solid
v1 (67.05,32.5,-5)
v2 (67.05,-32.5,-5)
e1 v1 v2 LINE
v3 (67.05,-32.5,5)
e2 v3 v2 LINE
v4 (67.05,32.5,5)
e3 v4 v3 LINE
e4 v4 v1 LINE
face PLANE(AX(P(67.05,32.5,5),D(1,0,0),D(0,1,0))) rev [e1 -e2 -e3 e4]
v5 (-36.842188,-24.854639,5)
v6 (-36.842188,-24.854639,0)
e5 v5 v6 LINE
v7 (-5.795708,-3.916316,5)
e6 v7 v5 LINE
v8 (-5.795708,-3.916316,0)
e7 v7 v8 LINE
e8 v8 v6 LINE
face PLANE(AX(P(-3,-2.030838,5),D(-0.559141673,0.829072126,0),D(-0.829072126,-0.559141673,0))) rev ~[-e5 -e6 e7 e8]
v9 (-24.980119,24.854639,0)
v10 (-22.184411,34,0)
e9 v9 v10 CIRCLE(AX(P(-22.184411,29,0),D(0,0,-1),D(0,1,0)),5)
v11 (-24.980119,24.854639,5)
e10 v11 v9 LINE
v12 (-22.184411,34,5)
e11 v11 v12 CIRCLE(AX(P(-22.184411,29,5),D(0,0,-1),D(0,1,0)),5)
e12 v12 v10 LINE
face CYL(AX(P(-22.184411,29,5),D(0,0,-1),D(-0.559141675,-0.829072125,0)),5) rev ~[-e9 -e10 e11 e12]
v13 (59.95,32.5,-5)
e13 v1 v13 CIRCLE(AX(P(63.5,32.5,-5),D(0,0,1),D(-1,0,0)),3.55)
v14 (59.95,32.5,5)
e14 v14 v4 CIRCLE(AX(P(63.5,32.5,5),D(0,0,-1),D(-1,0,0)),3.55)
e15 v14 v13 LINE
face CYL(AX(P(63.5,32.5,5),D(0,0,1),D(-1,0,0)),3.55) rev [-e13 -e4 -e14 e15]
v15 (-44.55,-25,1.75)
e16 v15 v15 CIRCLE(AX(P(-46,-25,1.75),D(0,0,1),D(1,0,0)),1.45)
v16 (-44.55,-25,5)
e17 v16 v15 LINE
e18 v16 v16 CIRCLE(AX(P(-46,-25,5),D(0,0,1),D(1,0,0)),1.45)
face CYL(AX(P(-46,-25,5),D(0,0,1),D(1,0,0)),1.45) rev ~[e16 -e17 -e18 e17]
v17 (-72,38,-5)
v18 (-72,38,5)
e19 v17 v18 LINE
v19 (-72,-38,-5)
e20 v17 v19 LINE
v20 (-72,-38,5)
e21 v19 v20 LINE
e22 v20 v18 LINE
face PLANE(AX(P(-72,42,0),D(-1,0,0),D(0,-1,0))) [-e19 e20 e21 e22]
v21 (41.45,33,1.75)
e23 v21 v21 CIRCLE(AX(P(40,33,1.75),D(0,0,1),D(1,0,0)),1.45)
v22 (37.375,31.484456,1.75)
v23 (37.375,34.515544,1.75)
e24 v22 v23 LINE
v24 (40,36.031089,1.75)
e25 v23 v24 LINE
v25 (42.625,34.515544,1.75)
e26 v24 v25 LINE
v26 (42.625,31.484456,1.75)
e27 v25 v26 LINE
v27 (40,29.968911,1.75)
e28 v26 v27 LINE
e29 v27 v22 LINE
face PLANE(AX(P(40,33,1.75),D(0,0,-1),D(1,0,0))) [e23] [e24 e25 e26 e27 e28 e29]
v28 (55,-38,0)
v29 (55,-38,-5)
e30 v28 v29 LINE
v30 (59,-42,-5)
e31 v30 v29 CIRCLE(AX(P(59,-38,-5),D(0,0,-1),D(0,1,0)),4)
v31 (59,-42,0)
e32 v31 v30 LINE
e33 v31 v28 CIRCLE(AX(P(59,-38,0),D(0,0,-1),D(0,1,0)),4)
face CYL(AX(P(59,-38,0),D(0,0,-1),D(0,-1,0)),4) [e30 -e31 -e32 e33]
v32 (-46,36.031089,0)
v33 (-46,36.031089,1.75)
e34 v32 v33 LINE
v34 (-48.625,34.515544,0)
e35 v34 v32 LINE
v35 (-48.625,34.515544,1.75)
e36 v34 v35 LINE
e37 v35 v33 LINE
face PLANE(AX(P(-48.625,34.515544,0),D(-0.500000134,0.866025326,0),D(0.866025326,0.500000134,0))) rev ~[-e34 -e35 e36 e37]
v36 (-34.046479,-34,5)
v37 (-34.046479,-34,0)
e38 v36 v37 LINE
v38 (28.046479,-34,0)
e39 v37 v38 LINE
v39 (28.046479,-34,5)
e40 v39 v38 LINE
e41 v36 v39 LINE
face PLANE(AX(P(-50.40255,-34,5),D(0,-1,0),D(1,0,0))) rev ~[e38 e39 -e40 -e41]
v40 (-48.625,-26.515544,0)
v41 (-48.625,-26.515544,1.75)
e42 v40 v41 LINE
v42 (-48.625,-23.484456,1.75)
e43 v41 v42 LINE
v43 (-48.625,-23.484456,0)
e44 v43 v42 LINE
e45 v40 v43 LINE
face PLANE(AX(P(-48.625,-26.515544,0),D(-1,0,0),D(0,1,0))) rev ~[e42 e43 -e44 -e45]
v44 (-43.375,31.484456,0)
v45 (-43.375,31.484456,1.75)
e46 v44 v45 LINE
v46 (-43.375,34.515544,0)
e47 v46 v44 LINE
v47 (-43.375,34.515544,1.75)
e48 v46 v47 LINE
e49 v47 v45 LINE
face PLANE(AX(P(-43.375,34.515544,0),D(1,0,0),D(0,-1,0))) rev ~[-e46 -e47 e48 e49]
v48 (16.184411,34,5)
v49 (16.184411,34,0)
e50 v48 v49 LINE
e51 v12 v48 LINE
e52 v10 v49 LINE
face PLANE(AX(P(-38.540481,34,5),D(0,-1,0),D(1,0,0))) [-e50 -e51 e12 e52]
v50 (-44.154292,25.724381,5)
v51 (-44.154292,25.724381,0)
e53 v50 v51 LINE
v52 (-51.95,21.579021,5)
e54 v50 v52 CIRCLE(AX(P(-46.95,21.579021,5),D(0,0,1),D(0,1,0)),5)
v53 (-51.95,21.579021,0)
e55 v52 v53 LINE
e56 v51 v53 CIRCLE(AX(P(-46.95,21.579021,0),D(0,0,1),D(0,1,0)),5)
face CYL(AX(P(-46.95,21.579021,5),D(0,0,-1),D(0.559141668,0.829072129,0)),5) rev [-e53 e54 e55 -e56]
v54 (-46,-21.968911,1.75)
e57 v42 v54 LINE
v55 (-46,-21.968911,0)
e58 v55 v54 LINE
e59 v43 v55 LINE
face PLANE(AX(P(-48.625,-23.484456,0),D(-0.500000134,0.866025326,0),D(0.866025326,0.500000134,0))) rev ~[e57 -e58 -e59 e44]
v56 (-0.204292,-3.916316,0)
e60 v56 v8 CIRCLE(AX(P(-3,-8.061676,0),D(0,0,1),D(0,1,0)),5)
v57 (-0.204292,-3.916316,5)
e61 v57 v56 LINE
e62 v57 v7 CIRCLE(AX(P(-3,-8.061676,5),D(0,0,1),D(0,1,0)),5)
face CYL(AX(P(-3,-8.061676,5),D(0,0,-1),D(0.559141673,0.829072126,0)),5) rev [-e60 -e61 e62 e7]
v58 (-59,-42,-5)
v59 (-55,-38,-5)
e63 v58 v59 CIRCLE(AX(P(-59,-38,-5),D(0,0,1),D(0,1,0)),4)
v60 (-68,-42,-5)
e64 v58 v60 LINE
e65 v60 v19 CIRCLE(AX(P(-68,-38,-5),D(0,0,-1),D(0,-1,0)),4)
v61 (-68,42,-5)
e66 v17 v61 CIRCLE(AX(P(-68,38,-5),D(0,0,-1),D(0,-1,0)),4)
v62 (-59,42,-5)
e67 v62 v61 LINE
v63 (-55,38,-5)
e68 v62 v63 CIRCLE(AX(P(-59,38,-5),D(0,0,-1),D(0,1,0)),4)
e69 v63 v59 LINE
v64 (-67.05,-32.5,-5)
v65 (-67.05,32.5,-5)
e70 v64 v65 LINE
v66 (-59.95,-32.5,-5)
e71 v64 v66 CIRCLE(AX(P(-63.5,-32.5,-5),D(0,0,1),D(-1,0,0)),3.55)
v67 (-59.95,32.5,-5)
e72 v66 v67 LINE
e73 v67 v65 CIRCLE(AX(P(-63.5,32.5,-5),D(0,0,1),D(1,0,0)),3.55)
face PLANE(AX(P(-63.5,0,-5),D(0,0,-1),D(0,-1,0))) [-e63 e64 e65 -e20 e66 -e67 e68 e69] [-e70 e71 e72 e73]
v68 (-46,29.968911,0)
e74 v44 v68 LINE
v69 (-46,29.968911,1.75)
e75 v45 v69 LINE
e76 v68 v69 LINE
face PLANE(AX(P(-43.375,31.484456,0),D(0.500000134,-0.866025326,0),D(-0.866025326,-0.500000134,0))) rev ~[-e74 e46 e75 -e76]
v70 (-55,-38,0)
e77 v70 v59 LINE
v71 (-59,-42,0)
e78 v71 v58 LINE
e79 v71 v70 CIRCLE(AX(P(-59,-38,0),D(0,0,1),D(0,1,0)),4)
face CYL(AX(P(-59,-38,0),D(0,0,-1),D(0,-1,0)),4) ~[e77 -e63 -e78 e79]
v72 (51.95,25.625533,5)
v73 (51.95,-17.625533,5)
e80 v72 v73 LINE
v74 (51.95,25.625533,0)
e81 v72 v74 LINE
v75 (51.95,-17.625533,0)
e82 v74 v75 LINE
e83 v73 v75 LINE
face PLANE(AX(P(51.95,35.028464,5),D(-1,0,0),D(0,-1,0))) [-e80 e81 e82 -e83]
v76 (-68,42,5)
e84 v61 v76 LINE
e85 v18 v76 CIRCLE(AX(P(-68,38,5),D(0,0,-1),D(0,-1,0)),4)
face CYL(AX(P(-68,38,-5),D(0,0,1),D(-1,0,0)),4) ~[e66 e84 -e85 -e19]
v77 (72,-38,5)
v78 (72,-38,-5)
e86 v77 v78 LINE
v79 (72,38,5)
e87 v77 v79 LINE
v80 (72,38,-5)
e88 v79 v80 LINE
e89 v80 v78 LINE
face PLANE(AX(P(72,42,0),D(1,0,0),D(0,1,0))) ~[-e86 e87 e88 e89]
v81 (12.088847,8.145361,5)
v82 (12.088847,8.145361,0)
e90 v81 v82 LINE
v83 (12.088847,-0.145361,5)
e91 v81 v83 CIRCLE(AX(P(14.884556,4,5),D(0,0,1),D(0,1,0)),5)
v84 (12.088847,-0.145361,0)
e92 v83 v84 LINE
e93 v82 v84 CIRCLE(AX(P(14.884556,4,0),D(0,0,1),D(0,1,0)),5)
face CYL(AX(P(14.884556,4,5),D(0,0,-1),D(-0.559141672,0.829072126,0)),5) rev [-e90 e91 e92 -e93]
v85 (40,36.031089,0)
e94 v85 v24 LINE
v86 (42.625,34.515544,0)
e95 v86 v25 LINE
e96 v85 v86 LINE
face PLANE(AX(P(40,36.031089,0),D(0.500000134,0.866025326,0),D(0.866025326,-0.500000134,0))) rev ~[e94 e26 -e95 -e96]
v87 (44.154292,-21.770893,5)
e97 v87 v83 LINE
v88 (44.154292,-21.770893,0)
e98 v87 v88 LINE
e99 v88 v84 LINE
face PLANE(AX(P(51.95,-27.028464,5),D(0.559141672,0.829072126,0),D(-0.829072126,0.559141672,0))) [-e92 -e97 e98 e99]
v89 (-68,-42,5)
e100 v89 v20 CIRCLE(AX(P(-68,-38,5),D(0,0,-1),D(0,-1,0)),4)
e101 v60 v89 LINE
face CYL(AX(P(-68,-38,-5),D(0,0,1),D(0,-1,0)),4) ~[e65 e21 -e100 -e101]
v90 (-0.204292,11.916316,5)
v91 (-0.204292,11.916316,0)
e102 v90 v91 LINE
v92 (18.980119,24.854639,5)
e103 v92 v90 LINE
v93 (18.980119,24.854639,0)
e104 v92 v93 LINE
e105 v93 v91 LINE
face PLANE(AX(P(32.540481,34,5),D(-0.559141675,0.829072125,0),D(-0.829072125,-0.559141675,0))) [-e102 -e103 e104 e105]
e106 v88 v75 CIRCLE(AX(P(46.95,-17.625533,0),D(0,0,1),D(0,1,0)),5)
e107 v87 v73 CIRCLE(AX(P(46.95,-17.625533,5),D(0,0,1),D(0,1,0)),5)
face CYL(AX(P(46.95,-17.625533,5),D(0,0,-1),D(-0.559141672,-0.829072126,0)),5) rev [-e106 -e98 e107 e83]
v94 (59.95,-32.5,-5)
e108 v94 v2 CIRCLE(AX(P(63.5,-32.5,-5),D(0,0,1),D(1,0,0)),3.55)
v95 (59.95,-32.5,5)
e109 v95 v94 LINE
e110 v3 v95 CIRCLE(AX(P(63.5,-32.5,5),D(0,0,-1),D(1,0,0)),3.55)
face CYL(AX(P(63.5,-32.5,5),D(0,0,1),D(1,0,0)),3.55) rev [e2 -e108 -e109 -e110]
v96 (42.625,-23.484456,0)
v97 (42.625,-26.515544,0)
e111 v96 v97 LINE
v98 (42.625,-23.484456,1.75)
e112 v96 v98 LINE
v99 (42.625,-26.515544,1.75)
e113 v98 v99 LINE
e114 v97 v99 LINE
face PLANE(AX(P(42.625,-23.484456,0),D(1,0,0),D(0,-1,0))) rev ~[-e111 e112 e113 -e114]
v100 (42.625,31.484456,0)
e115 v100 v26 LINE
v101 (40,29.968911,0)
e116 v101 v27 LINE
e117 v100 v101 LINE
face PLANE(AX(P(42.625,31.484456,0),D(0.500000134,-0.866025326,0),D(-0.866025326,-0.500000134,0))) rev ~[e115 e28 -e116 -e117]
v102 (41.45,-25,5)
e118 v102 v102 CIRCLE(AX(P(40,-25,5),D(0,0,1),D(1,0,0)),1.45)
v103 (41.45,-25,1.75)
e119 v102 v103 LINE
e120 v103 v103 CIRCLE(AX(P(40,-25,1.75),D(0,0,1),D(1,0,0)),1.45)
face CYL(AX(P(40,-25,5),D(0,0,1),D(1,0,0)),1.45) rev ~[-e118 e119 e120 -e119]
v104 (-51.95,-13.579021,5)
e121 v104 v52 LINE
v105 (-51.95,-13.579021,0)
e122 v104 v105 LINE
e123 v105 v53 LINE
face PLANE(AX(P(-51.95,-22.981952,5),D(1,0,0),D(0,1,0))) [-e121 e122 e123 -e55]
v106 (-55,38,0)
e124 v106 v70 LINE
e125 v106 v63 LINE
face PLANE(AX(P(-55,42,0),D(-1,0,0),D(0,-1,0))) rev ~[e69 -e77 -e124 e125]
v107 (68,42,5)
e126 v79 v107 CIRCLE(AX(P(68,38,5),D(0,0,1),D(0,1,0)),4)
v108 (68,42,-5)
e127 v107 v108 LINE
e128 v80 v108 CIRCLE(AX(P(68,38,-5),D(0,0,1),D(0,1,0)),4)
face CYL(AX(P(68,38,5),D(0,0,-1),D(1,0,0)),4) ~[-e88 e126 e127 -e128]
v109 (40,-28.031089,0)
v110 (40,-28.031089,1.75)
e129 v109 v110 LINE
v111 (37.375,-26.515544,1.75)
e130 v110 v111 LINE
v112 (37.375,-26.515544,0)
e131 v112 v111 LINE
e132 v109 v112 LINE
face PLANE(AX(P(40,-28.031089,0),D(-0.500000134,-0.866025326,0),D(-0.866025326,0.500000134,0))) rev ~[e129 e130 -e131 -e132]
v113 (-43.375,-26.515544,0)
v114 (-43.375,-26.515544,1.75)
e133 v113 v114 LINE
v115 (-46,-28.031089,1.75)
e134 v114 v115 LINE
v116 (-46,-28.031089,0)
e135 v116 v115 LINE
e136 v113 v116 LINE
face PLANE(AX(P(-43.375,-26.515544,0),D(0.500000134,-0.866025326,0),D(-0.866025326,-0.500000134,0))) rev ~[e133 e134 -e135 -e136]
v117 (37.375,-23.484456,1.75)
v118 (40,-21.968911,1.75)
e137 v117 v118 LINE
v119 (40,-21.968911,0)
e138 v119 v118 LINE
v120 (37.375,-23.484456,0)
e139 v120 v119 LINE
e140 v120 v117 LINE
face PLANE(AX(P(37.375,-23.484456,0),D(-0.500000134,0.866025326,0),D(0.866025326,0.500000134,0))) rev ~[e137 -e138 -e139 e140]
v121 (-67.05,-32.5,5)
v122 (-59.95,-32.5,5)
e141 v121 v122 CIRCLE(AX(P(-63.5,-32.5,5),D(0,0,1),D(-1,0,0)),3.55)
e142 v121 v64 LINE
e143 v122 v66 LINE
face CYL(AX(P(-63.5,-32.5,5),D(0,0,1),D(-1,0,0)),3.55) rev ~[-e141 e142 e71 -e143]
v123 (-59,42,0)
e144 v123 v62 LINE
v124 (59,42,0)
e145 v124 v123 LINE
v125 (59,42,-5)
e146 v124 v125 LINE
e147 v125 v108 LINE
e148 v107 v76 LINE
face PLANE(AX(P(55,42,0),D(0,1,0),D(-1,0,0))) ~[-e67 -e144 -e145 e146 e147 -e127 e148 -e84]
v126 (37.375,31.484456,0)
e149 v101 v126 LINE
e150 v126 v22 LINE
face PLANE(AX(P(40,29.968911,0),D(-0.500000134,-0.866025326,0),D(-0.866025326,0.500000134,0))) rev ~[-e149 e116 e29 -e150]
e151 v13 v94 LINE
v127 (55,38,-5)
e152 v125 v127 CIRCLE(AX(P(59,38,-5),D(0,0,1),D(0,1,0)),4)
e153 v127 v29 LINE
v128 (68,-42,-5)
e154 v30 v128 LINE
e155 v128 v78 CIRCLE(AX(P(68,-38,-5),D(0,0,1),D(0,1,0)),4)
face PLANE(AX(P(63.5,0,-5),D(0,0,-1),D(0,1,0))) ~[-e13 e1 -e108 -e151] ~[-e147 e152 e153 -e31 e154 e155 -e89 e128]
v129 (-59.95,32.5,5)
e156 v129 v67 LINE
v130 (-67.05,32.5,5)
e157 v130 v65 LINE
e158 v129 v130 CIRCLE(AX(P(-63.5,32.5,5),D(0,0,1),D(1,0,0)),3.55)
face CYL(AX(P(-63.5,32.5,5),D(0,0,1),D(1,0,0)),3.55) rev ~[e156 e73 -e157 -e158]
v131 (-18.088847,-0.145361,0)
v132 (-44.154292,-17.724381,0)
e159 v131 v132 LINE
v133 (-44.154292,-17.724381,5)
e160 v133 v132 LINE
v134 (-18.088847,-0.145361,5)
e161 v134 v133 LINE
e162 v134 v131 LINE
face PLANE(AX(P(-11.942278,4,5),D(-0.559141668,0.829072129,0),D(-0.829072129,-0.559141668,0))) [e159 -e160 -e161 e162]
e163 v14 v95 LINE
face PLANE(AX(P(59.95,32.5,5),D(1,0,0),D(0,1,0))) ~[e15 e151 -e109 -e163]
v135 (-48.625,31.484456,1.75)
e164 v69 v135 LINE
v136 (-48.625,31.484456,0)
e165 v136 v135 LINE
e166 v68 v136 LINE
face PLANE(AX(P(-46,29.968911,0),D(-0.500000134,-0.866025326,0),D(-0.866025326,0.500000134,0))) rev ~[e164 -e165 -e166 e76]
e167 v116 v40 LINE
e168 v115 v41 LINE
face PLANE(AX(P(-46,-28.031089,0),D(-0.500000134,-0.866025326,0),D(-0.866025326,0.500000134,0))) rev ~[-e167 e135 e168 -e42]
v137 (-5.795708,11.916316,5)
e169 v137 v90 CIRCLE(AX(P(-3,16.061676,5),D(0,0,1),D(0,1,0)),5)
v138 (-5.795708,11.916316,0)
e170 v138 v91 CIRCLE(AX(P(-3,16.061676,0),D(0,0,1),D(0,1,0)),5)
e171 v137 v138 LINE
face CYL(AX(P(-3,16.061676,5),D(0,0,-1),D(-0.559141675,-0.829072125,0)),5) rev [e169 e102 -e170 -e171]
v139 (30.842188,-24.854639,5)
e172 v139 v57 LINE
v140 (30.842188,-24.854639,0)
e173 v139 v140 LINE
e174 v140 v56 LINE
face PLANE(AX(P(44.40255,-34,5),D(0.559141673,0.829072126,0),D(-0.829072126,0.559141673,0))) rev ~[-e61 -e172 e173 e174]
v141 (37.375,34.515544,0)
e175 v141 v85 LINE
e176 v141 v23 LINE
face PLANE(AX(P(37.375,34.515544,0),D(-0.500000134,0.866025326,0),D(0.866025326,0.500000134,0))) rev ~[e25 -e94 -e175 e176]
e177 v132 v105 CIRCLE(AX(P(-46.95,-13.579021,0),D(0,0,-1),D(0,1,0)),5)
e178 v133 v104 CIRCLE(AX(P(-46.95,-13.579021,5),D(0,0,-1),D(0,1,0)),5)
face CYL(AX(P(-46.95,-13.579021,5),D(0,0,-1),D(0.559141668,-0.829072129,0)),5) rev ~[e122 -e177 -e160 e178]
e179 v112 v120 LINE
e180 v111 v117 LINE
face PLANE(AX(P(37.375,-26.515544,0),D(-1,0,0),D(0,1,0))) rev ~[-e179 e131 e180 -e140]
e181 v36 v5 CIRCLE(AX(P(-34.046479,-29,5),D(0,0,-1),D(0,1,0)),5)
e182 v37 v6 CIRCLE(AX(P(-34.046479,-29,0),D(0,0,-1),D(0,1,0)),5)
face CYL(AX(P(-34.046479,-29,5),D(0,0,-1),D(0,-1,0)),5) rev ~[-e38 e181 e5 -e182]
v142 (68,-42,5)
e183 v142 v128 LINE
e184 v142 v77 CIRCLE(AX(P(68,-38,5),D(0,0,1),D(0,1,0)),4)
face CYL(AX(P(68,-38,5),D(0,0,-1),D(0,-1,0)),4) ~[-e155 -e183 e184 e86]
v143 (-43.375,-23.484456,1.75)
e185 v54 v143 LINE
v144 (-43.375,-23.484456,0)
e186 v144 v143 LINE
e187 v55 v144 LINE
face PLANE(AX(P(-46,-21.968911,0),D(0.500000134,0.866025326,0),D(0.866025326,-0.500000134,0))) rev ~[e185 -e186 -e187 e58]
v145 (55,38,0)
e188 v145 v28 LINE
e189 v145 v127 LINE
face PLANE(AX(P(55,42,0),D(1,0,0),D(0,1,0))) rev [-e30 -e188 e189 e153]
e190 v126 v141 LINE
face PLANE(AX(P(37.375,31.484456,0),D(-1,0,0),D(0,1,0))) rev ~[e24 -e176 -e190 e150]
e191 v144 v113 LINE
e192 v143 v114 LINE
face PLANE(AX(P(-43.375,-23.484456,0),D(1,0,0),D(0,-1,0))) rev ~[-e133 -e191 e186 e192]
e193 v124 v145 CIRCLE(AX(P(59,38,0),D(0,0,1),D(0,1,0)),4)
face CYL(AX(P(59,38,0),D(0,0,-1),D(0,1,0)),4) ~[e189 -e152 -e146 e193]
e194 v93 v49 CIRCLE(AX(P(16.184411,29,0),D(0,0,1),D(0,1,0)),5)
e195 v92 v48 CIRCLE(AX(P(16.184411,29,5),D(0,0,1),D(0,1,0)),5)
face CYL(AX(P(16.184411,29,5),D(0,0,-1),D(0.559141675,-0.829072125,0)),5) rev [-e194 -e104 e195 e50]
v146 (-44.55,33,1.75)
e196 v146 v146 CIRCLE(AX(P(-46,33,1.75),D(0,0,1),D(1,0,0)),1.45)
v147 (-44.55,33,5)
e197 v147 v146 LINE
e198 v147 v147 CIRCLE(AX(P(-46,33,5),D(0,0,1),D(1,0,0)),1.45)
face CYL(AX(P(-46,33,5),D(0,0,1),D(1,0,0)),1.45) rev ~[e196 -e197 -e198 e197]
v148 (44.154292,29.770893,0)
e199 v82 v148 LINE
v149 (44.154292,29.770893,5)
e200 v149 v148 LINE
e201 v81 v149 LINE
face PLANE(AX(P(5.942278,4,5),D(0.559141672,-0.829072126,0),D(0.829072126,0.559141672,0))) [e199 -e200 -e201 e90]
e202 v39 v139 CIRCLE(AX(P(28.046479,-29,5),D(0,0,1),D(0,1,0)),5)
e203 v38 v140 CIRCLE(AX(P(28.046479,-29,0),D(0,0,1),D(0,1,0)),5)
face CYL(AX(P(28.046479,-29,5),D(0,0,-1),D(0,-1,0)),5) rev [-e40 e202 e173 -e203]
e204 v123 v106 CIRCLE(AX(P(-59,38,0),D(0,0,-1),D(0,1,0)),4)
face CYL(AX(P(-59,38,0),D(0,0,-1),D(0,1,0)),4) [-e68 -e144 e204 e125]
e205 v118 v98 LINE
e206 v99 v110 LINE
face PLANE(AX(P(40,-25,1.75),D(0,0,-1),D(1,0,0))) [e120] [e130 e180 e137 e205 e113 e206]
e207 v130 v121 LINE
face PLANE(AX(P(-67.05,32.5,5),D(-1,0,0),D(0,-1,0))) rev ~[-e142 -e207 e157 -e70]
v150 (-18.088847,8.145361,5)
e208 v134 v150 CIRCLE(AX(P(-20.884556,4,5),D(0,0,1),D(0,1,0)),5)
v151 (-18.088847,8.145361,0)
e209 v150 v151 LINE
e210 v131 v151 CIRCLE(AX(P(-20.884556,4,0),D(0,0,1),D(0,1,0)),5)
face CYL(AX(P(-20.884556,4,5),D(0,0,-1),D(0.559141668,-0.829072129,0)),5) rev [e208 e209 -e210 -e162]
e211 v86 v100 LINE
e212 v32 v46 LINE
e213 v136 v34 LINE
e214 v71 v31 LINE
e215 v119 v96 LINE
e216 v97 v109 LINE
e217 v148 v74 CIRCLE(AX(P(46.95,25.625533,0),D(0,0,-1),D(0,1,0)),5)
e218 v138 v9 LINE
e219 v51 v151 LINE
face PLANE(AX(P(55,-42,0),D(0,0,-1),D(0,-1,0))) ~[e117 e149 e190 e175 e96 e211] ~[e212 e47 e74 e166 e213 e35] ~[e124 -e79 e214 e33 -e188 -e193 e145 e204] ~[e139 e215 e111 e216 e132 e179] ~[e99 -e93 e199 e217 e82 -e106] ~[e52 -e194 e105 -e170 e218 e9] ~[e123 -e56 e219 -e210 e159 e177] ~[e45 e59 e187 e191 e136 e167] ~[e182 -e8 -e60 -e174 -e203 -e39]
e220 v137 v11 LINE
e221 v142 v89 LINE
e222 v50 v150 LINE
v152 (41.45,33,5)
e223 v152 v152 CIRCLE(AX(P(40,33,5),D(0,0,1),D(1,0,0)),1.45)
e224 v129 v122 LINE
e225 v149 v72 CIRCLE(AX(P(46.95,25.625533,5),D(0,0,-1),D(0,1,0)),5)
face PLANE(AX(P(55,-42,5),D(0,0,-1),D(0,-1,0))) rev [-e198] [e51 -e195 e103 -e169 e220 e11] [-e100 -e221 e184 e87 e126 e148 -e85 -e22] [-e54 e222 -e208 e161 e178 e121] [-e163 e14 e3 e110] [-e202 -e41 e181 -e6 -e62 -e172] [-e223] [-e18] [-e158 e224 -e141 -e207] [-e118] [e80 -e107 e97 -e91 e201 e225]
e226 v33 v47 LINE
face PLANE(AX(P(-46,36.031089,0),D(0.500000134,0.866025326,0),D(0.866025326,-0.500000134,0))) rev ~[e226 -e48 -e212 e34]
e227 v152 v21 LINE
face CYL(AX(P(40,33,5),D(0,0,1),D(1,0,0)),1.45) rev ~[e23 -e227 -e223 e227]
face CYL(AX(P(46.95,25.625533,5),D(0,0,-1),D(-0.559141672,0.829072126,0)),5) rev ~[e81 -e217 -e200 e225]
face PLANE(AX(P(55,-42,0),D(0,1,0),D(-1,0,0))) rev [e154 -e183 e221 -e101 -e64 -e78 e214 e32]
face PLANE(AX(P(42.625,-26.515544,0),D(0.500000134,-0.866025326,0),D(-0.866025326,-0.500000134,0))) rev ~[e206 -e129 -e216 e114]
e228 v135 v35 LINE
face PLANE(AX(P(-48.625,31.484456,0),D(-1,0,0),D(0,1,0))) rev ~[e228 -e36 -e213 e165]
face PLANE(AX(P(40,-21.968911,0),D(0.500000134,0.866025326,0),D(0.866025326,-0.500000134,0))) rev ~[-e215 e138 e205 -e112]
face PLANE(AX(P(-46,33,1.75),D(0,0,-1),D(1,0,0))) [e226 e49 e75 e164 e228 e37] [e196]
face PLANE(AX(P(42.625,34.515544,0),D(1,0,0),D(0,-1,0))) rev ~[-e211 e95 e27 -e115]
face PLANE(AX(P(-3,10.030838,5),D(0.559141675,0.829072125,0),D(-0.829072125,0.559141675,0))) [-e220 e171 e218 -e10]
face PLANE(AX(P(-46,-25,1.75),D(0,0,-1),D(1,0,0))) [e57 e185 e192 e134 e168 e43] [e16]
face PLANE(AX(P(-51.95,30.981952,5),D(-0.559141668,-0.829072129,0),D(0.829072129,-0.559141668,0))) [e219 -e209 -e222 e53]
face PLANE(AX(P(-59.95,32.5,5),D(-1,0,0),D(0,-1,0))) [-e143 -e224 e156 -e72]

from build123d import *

# Parameters (mm, degrees)
SKETCH_W                     = 110
SKETCH_H                     = 84
PAD_DEPTH                    = 5
SKETCH001_R                  = 1.45
HOLE_DEPTH                   = 281.991975
POCKET_DEPTH                 = 1.75
SKETCH001_LINEARPATTERN_2_R  = 1.45
HOLE_LINEARPATTERN_2_DEPTH   = 281.991975
POCKET_LINEARPATTERN_2_DEPTH = 1.75
LINEARPATTERN001_COUNT       = 2
LINEARPATTERN001_PITCH       = 58
MULTITRANSFORM_FACE2_W       = 84
MULTITRANSFORM_FACE2_H       = 5
PAD001_DEPTH                 = 17
PAD001_FACE6_W               = 84
PAD001_FACE6_H               = 17
PAD002_DEPTH                 = 5
POCKET001_DEPTH              = 315.189466
POCKET002_DEPTH              = 10.001
FILLET_R                     = 5
FILLET001_R                  = 4


with BuildPart() as part:
    # Sketch → Pad (new body)
    with BuildSketch(Plane.XY):
        Rectangle(SKETCH_W, SKETCH_H)
    extrude(amount=PAD_DEPTH)

    # Sketch001 (on Face6 of Pad) → Hole (cut, through all)
    with BuildSketch(Plane.XY.offset(5)):
        with Locations((-46, 33)):
            Circle(SKETCH001_R)
    hole = extrude(amount=-HOLE_DEPTH, mode=Mode.SUBTRACT)

    # Sketch002 (on Face4 of Hole) → Pocket (cut)
    with BuildSketch(Plane(origin=(0, 0, 0), x_dir=(1, 0, 0), z_dir=(0, 0, -1))):
        Polygon((-46, -36.031089), (-43.375, -34.515544), (-43.375, -31.484456), (-46, -29.968911), (-48.625, -31.484456), (-48.625, -34.515544), align=None)
    pocket = extrude(amount=-POCKET_DEPTH, mode=Mode.SUBTRACT)

    # Sketch001 LinearPattern 2 → Hole LinearPattern 2 (cut, through all)
    with BuildSketch(Plane(origin=(86, 0, 5), x_dir=(1, 0, 0), z_dir=(0, 0, 1))):
        with Locations((-46, 33)):
            Circle(SKETCH001_LINEARPATTERN_2_R)
    hole_linearpattern_2 = extrude(amount=-HOLE_LINEARPATTERN_2_DEPTH, mode=Mode.SUBTRACT)

    # Sketch002 LinearPattern 2 → Pocket LinearPattern 2 (cut)
    with BuildSketch(Plane(origin=(86, 0, 0), x_dir=(1, 0, 0), z_dir=(0, 0, -1))):
        Polygon((-46, -36.031089), (-43.375, -34.515544), (-43.375, -31.484456), (-46, -29.968911), (-48.625, -31.484456), (-48.625, -34.515544), align=None)
    pocket_linearpattern_2 = extrude(amount=-POCKET_LINEARPATTERN_2_DEPTH, mode=Mode.SUBTRACT)

    # LinearPattern001: Hole, Pocket, Hole LinearPattern 2, Pocket LinearPattern 2 ×2
    with Locations(*[(0, -i * LINEARPATTERN001_PITCH, 0) for i in range(1, LINEARPATTERN001_COUNT)]):
        add(hole, mode=Mode.SUBTRACT)
        add(pocket, mode=Mode.SUBTRACT)
        add(hole_linearpattern_2, mode=Mode.SUBTRACT)
        add(pocket_linearpattern_2, mode=Mode.SUBTRACT)

    # MultiTransform Face2 → Pad001 (add)
    with BuildSketch(Plane(origin=(-55, 0, 2.5), x_dir=(0, 1, 0), z_dir=(-1, 0, 0))):
        Rectangle(MULTITRANSFORM_FACE2_W, MULTITRANSFORM_FACE2_H)
    pad001 = extrude(amount=PAD001_DEPTH)

    # Pad001 Face6 → Pad002 (add)
    with BuildSketch(Plane(origin=(-63.5, 0, 0), x_dir=(0, -1, 0), z_dir=(0, 0, -1))):
        Rectangle(PAD001_FACE6_W, PAD001_FACE6_H)
    pad002 = extrude(amount=PAD002_DEPTH)

    # Sketch003 (on Face7 of Pad002) → Pocket001 (cut, through all)
    with BuildSketch(Plane.XY.offset(5)):
        with BuildLine():
            ThreePointArc((-59.95, 32.5), (-63.5, 36.05), (-67.05, 32.5))
            Line((-67.05, 32.5), (-67.05, -32.5))
            ThreePointArc((-67.05, -32.5), (-63.5, -36.05), (-59.95, -32.5))
            Line((-59.95, 32.5), (-59.95, -32.5))
        make_face()
    pocket001 = extrude(amount=-POCKET001_DEPTH, mode=Mode.SUBTRACT)

    # Mirrored: Pad001, Pad002, Pocket001 across YZ
    add(pad001.mirror(Plane.YZ))
    add(pad002.mirror(Plane.YZ))
    add(pocket001.mirror(Plane.YZ), mode=Mode.SUBTRACT)

    # Sketch004 (on Face5 of Mirrored) → Pocket002 (cut, through all)
    with BuildSketch(Plane.XY.offset(5)):
        Polygon((-38.540481, 34), (32.540481, 34), (-3, 10.030838), align=None)
        Polygon((-51.95, -22.981952), (-51.95, 30.981952), (-11.942278, 4), align=None)
        Polygon((-50.40255, -34), (44.40255, -34), (-3, -2.030838), align=None)
        Polygon((51.95, 35.028464), (51.95, -27.028464), (5.942278, 4), align=None)
    extrude(amount=-POCKET002_DEPTH, mode=Mode.SUBTRACT)

    # Fillet
    fillet_edges = [part.edges().sort_by_distance(p)[0] for p in [
        (-51.95, 30.981952, 2.5),
        (-51.95, -22.981952, 2.5),
        (-11.942278, 4, 2.5),
        (44.40255, -34, 2.5),
        (-50.40255, -34, 2.5),
        (-3, -2.030838, 2.5),
        (5.942278, 4, 2.5),
        (51.95, -27.028464, 2.5),
        (51.95, 35.028464, 2.5),
        (-38.540481, 34, 2.5),
        (-3, 10.030838, 2.5),
        (32.540481, 34, 2.5),
    ]]
    fillet(fillet_edges, radius=FILLET_R)

    # Fillet001
    fillet001_edges = [part.edges().sort_by_distance(p)[0] for p in [
        (-72, 42, 2.5),
        (-72, 42, -2.5),
        (-72, -42, -2.5),
        (-72, -42, 2.5),
        (72, 42, 2.5),
        (72, 42, -2.5),
        (72, -42, 2.5),
        (72, -42, -2.5),
        (55, 42, -2.5),
        (55, -42, -2.5),
        (-55, 42, -2.5),
        (-55, -42, -2.5),
    ]]
    fillet(fillet001_edges, radius=FILLET001_R)


solid = part.part
